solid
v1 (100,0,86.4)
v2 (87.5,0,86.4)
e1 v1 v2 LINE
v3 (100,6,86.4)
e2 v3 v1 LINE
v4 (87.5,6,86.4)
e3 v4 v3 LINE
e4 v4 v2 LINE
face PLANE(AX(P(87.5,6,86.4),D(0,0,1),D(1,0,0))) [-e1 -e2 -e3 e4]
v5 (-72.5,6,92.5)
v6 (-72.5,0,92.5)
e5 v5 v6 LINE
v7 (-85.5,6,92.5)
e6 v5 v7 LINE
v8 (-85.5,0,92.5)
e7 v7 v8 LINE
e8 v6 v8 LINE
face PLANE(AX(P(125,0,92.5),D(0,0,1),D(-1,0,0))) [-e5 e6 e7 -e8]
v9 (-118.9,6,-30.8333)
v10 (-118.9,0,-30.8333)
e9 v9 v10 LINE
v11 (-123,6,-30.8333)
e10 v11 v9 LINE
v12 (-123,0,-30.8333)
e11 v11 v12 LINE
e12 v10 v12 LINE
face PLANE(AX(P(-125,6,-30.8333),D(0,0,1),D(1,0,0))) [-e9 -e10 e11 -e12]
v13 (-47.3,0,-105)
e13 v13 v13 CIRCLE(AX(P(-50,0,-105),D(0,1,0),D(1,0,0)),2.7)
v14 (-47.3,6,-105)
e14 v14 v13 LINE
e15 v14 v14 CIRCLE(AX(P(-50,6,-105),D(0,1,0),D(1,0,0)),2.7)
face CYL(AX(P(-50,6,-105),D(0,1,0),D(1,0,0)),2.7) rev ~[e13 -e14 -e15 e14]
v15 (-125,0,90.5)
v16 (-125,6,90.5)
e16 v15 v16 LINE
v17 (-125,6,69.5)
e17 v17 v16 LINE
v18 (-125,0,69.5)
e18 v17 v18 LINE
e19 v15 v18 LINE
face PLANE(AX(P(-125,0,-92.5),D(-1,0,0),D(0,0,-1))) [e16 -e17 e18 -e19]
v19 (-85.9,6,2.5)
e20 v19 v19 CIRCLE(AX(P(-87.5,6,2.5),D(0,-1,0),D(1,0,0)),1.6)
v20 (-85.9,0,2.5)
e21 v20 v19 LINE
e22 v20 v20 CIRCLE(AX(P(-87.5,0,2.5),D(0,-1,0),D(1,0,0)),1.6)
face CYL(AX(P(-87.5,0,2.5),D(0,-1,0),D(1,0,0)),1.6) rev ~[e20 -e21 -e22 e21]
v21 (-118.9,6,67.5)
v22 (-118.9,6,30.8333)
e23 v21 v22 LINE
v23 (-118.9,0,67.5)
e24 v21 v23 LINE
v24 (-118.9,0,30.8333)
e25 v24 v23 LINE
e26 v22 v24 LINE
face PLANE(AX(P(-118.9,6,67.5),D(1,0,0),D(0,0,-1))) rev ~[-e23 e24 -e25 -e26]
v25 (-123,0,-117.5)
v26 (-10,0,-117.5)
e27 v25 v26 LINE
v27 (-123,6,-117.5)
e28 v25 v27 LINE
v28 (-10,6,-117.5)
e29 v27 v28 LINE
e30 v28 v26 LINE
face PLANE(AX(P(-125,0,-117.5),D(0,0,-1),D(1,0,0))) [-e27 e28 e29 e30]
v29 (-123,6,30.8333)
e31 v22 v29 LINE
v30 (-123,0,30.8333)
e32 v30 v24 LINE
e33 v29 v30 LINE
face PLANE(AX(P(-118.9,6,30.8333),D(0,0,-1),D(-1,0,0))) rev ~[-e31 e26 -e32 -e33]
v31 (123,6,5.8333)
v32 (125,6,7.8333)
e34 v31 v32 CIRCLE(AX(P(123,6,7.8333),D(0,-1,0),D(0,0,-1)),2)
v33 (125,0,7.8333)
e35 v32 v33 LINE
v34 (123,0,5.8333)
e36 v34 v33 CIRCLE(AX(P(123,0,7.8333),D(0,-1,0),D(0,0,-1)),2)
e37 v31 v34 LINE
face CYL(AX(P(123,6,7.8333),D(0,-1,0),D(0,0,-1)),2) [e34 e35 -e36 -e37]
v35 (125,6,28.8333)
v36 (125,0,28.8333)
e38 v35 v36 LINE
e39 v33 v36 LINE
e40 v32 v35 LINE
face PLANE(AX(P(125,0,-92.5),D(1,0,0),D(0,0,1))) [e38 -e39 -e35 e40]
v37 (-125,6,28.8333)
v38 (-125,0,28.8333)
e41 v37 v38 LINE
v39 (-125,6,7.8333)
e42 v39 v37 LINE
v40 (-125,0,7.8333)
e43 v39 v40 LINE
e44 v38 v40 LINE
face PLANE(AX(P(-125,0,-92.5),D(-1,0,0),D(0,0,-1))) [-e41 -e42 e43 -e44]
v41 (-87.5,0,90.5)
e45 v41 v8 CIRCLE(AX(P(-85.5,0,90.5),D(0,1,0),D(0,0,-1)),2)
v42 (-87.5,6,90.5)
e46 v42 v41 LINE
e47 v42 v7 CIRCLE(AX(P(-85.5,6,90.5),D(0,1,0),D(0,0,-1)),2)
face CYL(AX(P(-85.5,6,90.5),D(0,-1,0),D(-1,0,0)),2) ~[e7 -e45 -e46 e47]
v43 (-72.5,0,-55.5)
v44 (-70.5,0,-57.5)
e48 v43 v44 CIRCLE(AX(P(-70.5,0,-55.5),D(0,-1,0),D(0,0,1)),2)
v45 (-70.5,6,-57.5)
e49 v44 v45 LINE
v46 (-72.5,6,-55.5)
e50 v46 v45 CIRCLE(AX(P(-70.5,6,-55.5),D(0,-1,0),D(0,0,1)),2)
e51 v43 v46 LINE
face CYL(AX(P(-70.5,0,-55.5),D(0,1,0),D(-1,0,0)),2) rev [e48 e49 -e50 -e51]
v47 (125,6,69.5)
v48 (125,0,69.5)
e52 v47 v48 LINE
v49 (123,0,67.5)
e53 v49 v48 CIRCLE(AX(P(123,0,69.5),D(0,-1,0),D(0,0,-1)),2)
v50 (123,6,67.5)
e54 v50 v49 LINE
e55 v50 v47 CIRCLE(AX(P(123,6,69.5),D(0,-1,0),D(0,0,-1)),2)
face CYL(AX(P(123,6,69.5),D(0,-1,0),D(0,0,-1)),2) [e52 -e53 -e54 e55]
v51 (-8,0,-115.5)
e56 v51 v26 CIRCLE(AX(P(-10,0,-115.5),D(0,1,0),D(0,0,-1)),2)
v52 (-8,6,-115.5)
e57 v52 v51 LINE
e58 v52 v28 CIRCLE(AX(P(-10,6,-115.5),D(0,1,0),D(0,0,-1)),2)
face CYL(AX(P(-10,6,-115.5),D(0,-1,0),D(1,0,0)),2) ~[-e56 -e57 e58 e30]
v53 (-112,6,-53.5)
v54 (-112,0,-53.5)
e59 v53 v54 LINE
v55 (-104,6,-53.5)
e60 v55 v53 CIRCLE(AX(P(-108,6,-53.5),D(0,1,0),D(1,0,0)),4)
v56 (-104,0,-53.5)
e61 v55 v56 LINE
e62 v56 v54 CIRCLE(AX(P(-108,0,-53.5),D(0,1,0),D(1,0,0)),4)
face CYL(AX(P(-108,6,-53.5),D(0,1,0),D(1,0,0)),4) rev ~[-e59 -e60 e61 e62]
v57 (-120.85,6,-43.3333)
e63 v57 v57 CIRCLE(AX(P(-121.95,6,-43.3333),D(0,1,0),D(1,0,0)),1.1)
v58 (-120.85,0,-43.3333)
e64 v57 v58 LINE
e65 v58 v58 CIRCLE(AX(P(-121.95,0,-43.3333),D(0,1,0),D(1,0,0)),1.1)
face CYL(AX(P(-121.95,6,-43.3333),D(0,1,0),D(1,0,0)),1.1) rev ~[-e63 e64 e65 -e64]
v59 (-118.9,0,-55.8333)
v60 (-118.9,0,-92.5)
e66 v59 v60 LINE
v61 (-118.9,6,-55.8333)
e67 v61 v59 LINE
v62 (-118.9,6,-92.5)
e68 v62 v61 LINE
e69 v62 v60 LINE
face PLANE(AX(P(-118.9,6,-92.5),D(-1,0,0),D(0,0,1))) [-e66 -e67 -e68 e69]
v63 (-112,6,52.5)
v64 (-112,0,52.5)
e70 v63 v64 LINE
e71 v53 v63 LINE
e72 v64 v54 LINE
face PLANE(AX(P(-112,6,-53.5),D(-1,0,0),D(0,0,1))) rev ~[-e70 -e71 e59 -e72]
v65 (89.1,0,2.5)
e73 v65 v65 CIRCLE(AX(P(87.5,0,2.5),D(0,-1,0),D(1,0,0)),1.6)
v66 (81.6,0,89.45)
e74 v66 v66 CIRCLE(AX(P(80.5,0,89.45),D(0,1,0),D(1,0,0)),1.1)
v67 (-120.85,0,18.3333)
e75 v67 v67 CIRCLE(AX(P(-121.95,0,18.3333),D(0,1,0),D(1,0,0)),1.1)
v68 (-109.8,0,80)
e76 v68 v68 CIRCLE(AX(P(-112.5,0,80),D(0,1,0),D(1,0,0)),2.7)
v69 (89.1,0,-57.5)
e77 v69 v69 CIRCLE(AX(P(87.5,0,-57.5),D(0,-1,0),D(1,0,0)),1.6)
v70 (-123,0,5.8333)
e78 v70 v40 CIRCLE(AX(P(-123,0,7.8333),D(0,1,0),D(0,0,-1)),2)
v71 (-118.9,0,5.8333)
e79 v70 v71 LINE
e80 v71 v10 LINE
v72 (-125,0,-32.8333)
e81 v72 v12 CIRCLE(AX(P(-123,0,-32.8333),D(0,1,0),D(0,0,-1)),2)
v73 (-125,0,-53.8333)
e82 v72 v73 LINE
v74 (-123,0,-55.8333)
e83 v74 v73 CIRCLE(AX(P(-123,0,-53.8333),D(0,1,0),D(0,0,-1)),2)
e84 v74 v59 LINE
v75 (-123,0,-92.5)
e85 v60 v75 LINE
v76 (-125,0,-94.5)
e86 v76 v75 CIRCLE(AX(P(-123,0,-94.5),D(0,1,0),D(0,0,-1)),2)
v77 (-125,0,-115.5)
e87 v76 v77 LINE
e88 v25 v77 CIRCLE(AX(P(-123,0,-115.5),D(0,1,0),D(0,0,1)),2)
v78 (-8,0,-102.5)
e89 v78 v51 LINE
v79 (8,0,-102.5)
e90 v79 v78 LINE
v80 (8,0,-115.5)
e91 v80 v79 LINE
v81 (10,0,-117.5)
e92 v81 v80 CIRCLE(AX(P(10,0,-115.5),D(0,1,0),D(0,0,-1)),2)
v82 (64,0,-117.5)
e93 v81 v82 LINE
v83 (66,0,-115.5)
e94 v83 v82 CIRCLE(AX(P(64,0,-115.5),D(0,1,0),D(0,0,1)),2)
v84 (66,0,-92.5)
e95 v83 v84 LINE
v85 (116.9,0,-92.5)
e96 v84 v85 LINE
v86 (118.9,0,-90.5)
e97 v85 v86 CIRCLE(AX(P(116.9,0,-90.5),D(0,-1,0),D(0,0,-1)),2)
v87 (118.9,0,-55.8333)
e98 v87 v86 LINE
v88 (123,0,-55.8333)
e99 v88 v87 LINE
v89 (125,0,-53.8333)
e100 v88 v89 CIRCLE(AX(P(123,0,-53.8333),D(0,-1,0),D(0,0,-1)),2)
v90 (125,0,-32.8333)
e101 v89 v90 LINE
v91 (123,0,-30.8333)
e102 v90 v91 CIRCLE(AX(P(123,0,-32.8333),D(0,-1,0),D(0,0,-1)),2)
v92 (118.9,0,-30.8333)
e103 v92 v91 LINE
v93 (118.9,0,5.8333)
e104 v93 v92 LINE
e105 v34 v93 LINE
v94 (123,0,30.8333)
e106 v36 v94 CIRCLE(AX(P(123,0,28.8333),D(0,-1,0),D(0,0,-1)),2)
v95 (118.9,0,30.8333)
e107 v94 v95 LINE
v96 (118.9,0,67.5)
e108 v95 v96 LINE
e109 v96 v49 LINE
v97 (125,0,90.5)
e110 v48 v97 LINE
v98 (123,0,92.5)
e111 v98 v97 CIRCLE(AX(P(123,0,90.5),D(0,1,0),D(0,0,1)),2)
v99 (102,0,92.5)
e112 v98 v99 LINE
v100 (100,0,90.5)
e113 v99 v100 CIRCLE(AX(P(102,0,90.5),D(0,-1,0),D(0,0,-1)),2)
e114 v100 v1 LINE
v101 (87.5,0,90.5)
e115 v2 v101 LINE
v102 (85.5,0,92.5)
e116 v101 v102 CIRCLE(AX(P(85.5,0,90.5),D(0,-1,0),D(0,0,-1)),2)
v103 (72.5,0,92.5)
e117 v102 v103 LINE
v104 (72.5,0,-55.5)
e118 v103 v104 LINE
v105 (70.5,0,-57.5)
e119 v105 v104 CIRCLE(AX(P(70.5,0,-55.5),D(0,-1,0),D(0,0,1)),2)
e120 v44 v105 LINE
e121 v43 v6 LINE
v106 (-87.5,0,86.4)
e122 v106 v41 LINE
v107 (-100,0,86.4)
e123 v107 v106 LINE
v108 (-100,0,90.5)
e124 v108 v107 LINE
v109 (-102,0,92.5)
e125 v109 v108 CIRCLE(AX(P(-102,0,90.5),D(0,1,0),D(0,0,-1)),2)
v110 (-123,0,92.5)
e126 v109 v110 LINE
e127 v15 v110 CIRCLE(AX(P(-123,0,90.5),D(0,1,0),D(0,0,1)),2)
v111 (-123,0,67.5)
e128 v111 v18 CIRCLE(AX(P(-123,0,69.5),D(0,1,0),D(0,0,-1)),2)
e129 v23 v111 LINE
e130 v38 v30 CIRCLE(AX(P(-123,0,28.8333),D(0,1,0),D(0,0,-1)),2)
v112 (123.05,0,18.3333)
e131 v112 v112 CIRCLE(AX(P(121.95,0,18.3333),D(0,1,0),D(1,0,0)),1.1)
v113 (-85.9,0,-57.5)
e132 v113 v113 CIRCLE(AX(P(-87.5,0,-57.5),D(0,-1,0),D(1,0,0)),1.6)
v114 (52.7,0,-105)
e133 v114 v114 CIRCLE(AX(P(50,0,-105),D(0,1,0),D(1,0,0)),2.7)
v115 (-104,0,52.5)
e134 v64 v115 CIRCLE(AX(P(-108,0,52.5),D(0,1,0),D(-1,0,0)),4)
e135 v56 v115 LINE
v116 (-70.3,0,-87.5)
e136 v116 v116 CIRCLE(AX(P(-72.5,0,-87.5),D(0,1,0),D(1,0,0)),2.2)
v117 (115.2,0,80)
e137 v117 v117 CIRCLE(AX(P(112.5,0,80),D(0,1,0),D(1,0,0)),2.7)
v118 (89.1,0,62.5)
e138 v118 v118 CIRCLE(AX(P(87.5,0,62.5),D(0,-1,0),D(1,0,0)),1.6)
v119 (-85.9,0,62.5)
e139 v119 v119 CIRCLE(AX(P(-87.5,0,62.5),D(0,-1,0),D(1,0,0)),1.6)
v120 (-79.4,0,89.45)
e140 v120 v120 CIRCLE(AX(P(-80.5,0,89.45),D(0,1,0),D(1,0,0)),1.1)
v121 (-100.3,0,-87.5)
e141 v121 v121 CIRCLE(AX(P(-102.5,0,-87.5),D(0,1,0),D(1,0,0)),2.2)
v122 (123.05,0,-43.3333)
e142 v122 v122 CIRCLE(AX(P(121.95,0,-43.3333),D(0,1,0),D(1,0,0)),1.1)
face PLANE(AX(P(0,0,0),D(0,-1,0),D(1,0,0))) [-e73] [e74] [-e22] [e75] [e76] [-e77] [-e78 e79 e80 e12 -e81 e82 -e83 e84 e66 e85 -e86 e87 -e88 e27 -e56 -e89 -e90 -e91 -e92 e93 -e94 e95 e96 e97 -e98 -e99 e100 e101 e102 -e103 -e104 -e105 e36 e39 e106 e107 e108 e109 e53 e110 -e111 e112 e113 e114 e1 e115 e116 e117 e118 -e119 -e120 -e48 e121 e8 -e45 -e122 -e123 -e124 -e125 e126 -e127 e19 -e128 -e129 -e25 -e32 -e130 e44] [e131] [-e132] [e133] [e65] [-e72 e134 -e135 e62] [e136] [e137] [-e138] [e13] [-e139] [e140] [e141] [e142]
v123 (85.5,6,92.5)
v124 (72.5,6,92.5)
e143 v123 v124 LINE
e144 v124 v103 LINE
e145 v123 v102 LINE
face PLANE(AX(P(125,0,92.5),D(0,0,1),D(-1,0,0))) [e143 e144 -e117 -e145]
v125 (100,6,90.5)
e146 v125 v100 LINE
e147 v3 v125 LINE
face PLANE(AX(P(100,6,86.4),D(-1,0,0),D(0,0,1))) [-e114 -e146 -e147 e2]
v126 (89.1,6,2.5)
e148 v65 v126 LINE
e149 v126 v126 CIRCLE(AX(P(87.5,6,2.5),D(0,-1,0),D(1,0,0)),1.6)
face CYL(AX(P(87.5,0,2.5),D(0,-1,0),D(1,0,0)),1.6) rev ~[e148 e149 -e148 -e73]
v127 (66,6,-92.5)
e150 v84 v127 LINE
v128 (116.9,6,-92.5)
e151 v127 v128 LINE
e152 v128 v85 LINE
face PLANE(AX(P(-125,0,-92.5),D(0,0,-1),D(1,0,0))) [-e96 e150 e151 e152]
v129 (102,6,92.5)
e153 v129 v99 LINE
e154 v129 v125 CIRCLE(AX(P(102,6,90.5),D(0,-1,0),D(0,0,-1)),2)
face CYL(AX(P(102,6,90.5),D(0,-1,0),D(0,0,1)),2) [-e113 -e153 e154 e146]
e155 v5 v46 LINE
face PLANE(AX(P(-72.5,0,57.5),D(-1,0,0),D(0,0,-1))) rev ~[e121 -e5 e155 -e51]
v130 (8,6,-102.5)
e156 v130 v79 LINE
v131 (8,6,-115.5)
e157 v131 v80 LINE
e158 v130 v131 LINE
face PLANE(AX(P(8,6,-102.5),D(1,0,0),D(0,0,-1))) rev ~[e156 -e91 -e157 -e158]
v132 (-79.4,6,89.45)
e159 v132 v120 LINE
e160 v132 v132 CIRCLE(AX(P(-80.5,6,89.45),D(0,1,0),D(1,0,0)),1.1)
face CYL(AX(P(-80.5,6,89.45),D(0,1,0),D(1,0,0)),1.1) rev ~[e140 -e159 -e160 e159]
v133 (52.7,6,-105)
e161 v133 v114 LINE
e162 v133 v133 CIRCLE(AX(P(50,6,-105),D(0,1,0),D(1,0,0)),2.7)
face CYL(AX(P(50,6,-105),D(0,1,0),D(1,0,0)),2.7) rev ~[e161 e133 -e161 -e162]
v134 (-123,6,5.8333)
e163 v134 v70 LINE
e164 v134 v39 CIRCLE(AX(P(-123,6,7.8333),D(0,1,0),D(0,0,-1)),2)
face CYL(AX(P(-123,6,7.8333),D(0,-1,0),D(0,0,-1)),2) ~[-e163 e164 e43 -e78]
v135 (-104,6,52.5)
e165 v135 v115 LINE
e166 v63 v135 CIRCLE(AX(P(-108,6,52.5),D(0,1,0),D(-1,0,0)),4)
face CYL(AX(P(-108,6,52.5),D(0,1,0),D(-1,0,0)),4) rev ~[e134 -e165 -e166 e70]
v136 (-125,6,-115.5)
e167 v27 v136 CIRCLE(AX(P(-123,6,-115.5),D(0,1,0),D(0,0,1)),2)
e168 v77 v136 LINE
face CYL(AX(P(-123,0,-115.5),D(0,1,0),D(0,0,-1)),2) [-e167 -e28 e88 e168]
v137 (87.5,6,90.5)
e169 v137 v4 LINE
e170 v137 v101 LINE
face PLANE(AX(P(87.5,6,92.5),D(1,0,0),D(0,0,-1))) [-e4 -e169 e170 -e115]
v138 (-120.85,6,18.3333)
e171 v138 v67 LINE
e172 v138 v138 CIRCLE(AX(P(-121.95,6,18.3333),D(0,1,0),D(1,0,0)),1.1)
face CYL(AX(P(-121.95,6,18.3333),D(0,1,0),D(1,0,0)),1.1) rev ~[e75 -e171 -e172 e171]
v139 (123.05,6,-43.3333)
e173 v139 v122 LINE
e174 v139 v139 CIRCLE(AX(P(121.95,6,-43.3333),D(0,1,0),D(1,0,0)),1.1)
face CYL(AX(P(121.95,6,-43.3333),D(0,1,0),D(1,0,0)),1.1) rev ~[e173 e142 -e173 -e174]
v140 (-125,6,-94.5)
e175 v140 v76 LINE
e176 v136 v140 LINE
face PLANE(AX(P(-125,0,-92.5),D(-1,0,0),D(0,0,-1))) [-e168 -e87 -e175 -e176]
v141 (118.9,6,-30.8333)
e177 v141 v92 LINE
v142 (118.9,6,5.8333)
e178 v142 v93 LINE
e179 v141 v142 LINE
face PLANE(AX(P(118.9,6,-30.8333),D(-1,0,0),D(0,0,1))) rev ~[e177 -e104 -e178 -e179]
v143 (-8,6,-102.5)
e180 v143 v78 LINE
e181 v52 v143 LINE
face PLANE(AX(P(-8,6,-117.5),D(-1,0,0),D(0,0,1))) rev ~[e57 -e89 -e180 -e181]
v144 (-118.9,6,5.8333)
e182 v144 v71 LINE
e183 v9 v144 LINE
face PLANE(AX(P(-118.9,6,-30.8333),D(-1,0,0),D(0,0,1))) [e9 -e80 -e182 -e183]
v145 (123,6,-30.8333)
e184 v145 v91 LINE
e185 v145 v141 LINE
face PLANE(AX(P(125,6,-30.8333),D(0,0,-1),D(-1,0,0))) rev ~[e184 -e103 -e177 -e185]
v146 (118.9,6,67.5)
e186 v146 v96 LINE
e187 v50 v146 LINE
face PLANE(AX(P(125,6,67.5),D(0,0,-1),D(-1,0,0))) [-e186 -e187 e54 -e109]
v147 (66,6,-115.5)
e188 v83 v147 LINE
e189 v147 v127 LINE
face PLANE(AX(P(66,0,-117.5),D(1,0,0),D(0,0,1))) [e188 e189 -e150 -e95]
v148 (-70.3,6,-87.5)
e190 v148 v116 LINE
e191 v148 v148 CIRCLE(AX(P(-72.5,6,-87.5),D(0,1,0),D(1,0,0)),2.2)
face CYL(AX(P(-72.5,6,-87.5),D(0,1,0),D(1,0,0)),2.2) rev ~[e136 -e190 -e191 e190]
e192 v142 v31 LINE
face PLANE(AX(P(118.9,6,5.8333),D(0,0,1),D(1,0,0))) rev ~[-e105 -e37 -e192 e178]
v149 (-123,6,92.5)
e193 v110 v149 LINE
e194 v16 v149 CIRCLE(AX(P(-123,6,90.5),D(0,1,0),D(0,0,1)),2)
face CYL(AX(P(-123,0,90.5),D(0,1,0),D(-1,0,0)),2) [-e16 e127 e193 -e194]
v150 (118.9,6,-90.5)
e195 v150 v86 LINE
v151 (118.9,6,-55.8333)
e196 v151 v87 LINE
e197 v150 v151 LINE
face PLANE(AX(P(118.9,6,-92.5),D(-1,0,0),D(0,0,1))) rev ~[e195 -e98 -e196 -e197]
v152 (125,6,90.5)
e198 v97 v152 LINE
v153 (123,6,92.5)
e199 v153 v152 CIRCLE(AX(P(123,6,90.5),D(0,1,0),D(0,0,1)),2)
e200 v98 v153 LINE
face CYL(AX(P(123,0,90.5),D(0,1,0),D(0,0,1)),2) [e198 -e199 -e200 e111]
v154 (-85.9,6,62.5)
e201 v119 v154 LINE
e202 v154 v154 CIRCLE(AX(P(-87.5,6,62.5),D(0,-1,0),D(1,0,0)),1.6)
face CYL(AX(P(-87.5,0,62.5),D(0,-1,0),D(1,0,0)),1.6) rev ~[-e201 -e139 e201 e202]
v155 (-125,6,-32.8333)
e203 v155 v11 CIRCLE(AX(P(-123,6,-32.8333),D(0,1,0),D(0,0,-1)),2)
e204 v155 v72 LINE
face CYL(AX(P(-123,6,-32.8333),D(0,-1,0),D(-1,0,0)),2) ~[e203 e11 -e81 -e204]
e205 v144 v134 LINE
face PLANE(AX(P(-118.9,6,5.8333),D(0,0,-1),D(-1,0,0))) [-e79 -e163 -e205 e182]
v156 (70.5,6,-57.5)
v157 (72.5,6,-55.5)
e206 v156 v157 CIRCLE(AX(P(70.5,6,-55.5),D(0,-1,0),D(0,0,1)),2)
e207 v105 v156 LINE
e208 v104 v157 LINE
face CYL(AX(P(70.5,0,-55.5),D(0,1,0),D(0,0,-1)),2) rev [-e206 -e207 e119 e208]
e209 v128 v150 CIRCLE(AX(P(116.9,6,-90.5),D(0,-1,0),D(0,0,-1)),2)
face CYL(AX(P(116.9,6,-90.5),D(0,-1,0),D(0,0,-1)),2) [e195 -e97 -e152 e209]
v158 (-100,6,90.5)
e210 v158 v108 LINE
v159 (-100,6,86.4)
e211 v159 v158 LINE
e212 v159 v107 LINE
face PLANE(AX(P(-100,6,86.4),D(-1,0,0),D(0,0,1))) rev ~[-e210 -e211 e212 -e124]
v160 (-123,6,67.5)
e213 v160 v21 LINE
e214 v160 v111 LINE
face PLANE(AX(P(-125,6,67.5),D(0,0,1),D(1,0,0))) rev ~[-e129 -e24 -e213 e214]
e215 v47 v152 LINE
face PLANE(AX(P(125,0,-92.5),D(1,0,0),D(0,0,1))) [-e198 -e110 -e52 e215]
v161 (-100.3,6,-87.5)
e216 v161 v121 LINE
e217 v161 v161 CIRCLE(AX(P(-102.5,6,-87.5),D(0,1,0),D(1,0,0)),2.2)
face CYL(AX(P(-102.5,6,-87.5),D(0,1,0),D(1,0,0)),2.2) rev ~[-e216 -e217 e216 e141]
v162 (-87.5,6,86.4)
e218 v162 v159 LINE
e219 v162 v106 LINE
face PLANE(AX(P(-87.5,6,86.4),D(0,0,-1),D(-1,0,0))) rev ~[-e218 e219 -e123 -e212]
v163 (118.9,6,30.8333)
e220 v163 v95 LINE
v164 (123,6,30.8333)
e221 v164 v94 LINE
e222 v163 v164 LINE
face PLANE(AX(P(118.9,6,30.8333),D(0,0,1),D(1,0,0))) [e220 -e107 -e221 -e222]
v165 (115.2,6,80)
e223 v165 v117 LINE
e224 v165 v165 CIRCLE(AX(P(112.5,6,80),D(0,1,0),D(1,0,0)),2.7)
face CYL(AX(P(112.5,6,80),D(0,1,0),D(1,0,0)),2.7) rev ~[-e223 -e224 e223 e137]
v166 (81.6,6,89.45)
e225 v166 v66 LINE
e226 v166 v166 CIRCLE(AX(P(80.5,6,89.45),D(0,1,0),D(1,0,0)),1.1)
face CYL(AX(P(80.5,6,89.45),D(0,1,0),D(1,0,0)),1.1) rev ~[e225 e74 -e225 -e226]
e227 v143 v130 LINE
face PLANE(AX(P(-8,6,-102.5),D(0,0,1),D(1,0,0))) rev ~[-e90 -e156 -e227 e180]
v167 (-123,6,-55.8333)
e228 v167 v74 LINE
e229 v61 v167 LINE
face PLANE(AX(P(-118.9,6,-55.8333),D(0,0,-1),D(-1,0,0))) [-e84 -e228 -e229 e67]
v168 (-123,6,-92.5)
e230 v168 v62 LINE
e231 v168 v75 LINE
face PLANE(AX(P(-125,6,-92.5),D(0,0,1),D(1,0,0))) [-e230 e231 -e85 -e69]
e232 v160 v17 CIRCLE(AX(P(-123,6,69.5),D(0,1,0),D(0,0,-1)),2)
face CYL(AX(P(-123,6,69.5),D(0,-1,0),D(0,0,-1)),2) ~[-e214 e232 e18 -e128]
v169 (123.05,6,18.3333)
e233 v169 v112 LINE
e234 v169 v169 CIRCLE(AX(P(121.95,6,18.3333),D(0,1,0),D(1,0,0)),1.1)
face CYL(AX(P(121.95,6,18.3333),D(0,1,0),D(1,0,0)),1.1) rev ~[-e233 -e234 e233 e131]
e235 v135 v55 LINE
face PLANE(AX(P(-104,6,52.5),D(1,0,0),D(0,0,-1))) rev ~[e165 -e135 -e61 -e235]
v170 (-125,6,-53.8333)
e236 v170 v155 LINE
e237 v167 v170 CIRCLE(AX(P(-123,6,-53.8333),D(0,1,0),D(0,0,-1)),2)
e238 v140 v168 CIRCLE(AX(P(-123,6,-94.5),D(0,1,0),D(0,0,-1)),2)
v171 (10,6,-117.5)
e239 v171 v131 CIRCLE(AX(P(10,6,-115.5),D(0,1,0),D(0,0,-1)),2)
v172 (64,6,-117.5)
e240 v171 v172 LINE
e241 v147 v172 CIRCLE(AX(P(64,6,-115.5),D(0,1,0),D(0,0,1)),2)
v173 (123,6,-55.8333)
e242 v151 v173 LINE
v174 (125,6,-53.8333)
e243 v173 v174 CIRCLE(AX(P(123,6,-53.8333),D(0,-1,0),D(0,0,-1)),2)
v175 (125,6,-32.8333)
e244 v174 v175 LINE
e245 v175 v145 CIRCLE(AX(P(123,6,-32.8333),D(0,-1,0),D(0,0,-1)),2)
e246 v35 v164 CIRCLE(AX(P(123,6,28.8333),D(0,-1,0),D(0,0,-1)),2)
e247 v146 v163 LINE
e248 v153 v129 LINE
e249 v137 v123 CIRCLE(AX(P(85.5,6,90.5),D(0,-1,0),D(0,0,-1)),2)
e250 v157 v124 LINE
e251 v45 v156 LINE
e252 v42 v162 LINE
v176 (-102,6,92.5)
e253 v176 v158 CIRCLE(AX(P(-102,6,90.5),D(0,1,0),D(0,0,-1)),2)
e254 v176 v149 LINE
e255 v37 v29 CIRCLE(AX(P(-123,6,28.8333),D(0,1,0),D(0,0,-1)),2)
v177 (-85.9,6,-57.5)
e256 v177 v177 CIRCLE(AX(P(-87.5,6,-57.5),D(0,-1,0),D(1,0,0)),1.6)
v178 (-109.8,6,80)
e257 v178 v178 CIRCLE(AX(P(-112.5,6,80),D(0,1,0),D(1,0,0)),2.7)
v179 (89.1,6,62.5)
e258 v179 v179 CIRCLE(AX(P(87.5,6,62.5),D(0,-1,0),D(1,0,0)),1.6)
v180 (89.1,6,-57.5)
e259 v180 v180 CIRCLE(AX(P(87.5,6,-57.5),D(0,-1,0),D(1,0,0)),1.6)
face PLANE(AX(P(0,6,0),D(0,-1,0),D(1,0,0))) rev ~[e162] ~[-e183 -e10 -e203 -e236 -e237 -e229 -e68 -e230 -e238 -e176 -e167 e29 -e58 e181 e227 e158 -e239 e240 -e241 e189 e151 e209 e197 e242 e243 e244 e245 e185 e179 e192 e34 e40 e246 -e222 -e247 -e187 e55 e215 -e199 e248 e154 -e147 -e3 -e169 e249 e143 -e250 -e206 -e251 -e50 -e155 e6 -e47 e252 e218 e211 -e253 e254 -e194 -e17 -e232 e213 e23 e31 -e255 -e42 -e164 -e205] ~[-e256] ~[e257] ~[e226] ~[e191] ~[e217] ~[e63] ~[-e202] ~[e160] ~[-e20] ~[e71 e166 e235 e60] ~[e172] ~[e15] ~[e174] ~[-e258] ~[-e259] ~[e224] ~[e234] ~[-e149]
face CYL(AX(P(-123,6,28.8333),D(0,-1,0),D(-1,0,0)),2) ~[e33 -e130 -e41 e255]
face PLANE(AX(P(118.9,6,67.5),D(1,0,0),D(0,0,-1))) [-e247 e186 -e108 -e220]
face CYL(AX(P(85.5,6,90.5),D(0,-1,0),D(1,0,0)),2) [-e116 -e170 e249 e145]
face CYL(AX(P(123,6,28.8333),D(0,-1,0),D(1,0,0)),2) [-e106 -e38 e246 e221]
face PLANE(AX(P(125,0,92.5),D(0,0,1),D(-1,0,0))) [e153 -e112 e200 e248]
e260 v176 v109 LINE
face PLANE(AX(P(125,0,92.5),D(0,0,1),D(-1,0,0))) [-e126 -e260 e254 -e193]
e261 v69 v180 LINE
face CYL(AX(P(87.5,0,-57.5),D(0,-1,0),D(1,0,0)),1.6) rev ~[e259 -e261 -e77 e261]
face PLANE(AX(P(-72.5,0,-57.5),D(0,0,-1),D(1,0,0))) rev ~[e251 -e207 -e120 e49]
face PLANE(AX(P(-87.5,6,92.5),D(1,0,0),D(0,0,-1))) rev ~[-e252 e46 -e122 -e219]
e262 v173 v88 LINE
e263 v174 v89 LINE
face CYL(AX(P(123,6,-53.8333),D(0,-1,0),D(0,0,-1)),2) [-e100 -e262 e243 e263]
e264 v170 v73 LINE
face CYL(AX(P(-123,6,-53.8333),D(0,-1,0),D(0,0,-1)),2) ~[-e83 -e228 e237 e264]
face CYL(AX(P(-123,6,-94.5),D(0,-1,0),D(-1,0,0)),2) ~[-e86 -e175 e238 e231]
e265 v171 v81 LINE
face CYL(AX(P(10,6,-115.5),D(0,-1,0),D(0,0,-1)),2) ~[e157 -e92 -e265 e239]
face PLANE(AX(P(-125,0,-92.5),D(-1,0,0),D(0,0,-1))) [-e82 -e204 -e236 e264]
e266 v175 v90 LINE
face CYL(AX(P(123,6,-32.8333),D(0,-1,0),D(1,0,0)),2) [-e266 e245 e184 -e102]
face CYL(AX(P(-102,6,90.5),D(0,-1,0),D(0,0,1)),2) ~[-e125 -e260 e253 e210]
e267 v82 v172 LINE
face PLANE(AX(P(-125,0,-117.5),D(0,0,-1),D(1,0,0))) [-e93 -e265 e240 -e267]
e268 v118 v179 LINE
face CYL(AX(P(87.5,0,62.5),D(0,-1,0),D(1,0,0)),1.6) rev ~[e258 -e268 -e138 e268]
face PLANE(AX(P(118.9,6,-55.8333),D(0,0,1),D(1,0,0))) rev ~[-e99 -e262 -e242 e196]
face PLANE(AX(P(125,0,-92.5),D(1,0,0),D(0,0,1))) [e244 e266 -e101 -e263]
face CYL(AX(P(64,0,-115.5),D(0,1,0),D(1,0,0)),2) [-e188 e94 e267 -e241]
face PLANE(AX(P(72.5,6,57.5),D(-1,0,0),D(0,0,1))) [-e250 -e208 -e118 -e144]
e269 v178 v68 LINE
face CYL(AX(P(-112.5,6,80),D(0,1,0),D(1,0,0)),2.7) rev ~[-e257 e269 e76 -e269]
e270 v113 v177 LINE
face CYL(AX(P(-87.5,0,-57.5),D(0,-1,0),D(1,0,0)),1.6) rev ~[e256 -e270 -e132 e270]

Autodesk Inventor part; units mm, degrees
ref_plane "YZ Plane" through (0, 0, 0) normal (1, 0, 0) x (0, 1, 0)
ref_plane "XZ Plane" through (0, 0, 0) normal (0, 1, 0) x (-1, 0, 0)
ref_plane "XY Plane" through (0, 0, 0) normal (0, 0, 1) x (1, 0, 0)
sketch "Sketch1" plane through (0, 0, 0) normal (0, 1, 0) x (-1, 0, 0)
  line L0 (125, -92.5) -> (-125, -92.5)
  line L1 (-125, -92.5) -> (-125, 92.5)
  line L2 (-125, 92.5) -> (125, 92.5)
  line L3 (125, 92.5) -> (125, -92.5)
  line L4 (125, -92.5) -> (-125, 92.5) construction
  line L5 (-125, -92.5) -> (125, 92.5) construction
  line L6 (72.5, -57.5) -> (-72.5, -57.5)
  line L7 (-72.5, -57.5) -> (-72.5, 57.5)
  line L8 (-72.5, 57.5) -> (72.5, 57.5)
  line L9 (72.5, 57.5) -> (72.5, -57.5)
  line L10 (72.5, -57.5) -> (-72.5, 57.5) construction
  line L11 (-72.5, -57.5) -> (72.5, 57.5) construction
  line L12 (-90.9745, -29.5734) -> (-84.0255, -29.5734) construction
  line L13 (-84.0255, -29.5734) -> (-84.0255, 29.5734) construction
  line L14 (-84.0255, 29.5734) -> (-90.9745, 29.5734) construction
  line L15 (-90.9745, 29.5734) -> (-90.9745, -29.5734) construction
  line L16 (-90.9745, -29.5734) -> (-84.0255, 29.5734) construction
  line L17 (-84.0255, -29.5734) -> (-90.9745, 29.5734) construction
  line L18 (81.5853, -29.5734) -> (93.4147, -29.5734) construction
  line L19 (93.4147, -29.5734) -> (93.4147, 29.5734) construction
  line L20 (93.4147, 29.5734) -> (81.5853, 29.5734) construction
  line L21 (81.5853, 29.5734) -> (81.5853, -29.5734) construction
  line L22 (81.5853, -29.5734) -> (93.4147, 29.5734) construction
  line L23 (93.4147, -29.5734) -> (81.5853, 29.5734) construction
  point P0 (0, 0)
  point P1 (-87.5, 0)
  point P2 (87.5, 0)
  dimension "d0" = 175
  dimension "d1" = 87.5
  dimension "d2" = 145
  dimension "d4" = 185
  dimension "d5" = 250
  dimension "d15" = 35
extrude "Extrusion1" add sketch "Sketch1" along normal blind 6
sketch "Sketch2" plane through (0, 6, 0) normal (0, 1, 0) x (1, 0, 0)
  line L0 (72.5, -57.5) -> (-72.5, -57.5) projected
  line L1 (-125, -92.5) -> (125, -92.5) projected
  line L2 (-72.5, -57.5) -> (72.5, -57.5)
  line L3 (72.5, -57.5) -> (72.5, -92.5)
  line L4 (72.5, -92.5) -> (-72.5, -92.5)
  line L5 (-72.5, -92.5) -> (-72.5, -57.5)
  point P0 (0, 0)
extrude "Extrusion2" cut sketch "Sketch2" against normal through all
sketch "Sketch3" plane through (0, 0, 0) normal (0, -1, 0) x (1, 0, 0)
  line L0 (-125, 92.5) -> (-125, -92.5) projected
  line L1 (-125, -92.5) -> (125, -92.5) projected
  line L2 (125, -92.5) -> (125, 92.5) projected
  line L3 (-125, -117.5) -> (66, -117.5)
  line L4 (66, -117.5) -> (66, -92.5)
  line L5 (66, -92.5) -> (-125, -92.5)
  line L6 (-125, -92.5) -> (-125, -117.5)
  line L7 (-125, -117.5) -> (66, -92.5) construction
  line L8 (66, -117.5) -> (-125, -92.5) construction
  point P0 (0, 0)
  point P1 (-29.5, -105)
  dimension "d10" = 59
  dimension "d11" = 25
extrude "Extrusion3" add sketch "Sketch3" against normal blind 6
sketch "Sketch4" plane through (0, 6, 0) normal (0, 1, 0) x (1, 0, 0)
  line L0 (-72.5, -92.5) -> (-72.5, 57.5) projected
  line L1 (-72.5, 57.5) -> (72.5, 57.5) projected
  line L2 (-125, -92.5) -> (-72.5, -92.5) projected
  line L3 (-108, 53.5) -> (-108, -52.5) construction
  line L4 (-112, 53.5) -> (-112, -52.5)
  line L5 (-104, -52.5) -> (-104, 53.5)
  arc A0 (-104, 53.5) -> (-112, 53.5) centre (-108, 53.5) ccw
  arc A1 (-112, -52.5) -> (-104, -52.5) centre (-108, -52.5) ccw
  point P0 (0, 0)
  point P1 (-108, 0.5)
  dimension "d16" = 8
  dimension "d17" = 108
  dimension "d18" = 40
extrude "Extrusion4" cut sketch "Sketch4" against normal through all
sketch "Sketch5" plane through (0, 0, 0) normal (0, -1, 0) x (1, 0, 0)
  line L0 (125, 92.5) -> (-125, 92.5) projected
  line L1 (72.5, -57.5) -> (-72.5, -57.5) projected
  circle A0 centre (-87.5, 62.5) radius 1.6
  circle A1 centre (-87.5, 2.5) radius 1.6
  circle A2 centre (-87.5, -57.5) radius 1.6
  circle A3 centre (87.5, 62.5) radius 1.6
  circle A4 centre (87.5, 2.5) radius 1.6
  circle A5 centre (87.5, -57.5) radius 1.6
  line L2 (87.5, 62.5) -> (-87.5, 62.5) construction
  line L3 (0, -57.5) -> (0, 62.5) construction
  line L4 (-95, -72.5) -> (-80, -72.5) construction
  line L5 (-80, -72.5) -> (-80, 77.5) construction
  line L6 (-80, 77.5) -> (-95, 77.5) construction
  line L7 (-95, 77.5) -> (-95, -72.5) construction
  line L8 (-95, -72.5) -> (-80, 77.5) construction
  line L9 (-80, -72.5) -> (-95, 77.5) construction
  point P0 (-72.5, 92.5)
  point P1 (0, 0)
  dimension "d21" = 60
  dimension "d22" = 60
  dimension "d23" = 175
  dimension "d24" = 3.2
  dimension "d25" = 150
  dimension "d26" = 15
extrude "Extrusion5" cut sketch "Sketch5" against normal through all
sketch "Sketch6" plane through (0, 6, 0) normal (0, 1, 0) x (1, 0, 0)
  circle A0 centre (-87.5, 57.5) radius 1.6 projected
  line L0 (66, 117.5) -> (-125, 117.5) projected
  line L1 (-112.5, 60.5) -> (-62.5, 60.5) construction
  line L2 (-62.5, 60.5) -> (-62.5, 114.5) construction
  line L3 (-62.5, 114.5) -> (-112.5, 114.5) construction
  line L4 (-112.5, 114.5) -> (-112.5, 60.5) construction
  line L5 (-112.5, 60.5) -> (-62.5, 114.5) construction
  line L6 (-62.5, 60.5) -> (-112.5, 114.5) construction
  circle A1 centre (-102.5, 87.5) radius 2.2
  circle A2 centre (-72.5, 87.5) radius 2.2
  circle A3 centre (-50, 105) radius 2.7
  circle A4 centre (50, 105) radius 2.7
  line L7 (125, -92.5) -> (125, 92.5) projected
  line L8 (-125, 117.5) -> (-125, -92.5) projected
  line L9 (-125, -92.5) -> (-72.5, -92.5) projected
  circle A5 centre (-112.5, -80) radius 2.7
  circle A6 centre (112.5, -80) radius 2.7
  point P0 (0, 0)
  point P1 (-87.5, 87.5)
  dimension "d29" = 50
  dimension "d30" = 54
  dimension "d31" = 3
  dimension "d32" = 4.4
  dimension "d33" = 30
  dimension "d34" = 15
  dimension "d42" = 12.5
  dimension "d43" = 50
  dimension "d44" = 50
  dimension "d45" = 5.4
  dimension "d46" = 12.5
  dimension "d47" = 12.5
  dimension "d48" = 12.5
  dimension "d49" = 5.4
  dimension "d71" = 12.5
extrude "Extrusion6" cut sketch "Sketch6" against normal through all contours A1 | A2 | A3 | A4 | A5 | A6
sketch "Sketch7" plane through (0, 6, 0) normal (0, 1, 0) x (1, 0, 0)
  line L0 (66, 117.5) -> (-125, 117.5) projected
  line L1 (-8, 102.5) -> (8, 102.5)
  line L2 (8, 102.5) -> (8, 117.5)
  line L3 (8, 117.5) -> (-8, 117.5)
  line L4 (-8, 117.5) -> (-8, 102.5)
  line L5 (-8, 102.5) -> (8, 117.5) construction
  line L6 (8, 102.5) -> (-8, 117.5) construction
  point P0 (0, 0)
  point P1 (0, 110)
  dimension "d38" = 16
  dimension "d39" = 15
extrude "Extrusion7" cut sketch "Sketch7" against normal through all
sketch "Sketch8" plane through (0, 6, 0) normal (0, 1, 0) x (1, 0, 0)
  line L0 (-125, 117.5) -> (-125, -92.5) projected
  line L1 (72.5, -92.5) -> (125, -92.5) projected
  line L2 (125, -92.5) -> (125, 92.5) projected
  line L3 (125, 92.5) -> (66, 92.5) projected
  line L4 (125, 92.5) -> (118.9, 92.5)
  line L5 (118.9, 92.5) -> (118.9, 55.8333)
  line L6 (118.9, 55.8333) -> (125, 55.8333)
  line L7 (125, 55.8333) -> (125, 92.5)
  line L8 (125, -67.5) -> (118.9, -67.5)
  line L9 (118.9, -67.5) -> (118.9, -30.8333)
  line L10 (118.9, -30.8333) -> (125, -30.8333)
  line L11 (125, -30.8333) -> (125, -67.5)
  line L12 (125, 30.8333) -> (118.9, 30.8333)
  line L13 (118.9, 30.8333) -> (118.9, -5.8333)
  line L14 (118.9, -5.8333) -> (125, -5.8333)
  line L15 (125, -5.8333) -> (125, 30.8333)
  line L16 (-125, 92.5) -> (-118.9, 92.5)
  line L17 (-118.9, 92.5) -> (-118.9, 55.8333)
  line L18 (-118.9, 55.8333) -> (-125, 55.8333)
  line L19 (-125, 55.8333) -> (-125, 92.5)
  line L20 (-125, 30.8333) -> (-118.9, 30.8333)
  line L21 (-118.9, 30.8333) -> (-118.9, -5.8333)
  line L22 (-118.9, -5.8333) -> (-125, -5.8333)
  line L23 (-125, -5.8333) -> (-125, 30.8333)
  line L24 (-125, -67.5) -> (-118.9, -67.5)
  line L25 (-118.9, -67.5) -> (-118.9, -30.8333)
  line L26 (-118.9, -30.8333) -> (-125, -30.8333)
  line L27 (-125, -30.8333) -> (-125, -67.5)
  circle A0 centre (121.95, 43.3333) radius 1.1
  circle A1 centre (121.95, -18.3333) radius 1.1
  circle A2 centre (-121.95, -18.3333) radius 1.1
  circle A3 centre (-121.95, 43.3333) radius 1.1
  line L28 (121.95, 55.8333) -> (121.95, 43.3333) construction
  line L29 (-121.95, 55.8333) -> (-121.95, 43.3333) construction
  point P0 (0, 0)
  dimension "d50" = 25
  dimension "d51" = 6.1
  dimension "d52" = 25
  dimension "d53" = 25
  dimension "d54" = 2.2
  dimension "d55" = 12.5
  dimension "d56" = 12.5
extrude "Extrusion8" cut sketch "Sketch8" against normal through all
sketch "Sketch9" plane through (0, 6, 0) normal (0, 1, 0) x (1, 0, 0)
  circle A0 centre (-121.95, -18.3333) radius 1.1 projected
  line L0 (-118.9, -67.5) -> (-125, -67.5) projected
  line L1 (-125, -92.5) -> (-72.5, -92.5) projected
  line L2 (72.5, -92.5) -> (125, -92.5) projected
  line L3 (-100, -92.5) -> (-87.5, -92.5)
  line L4 (-87.5, -92.5) -> (-87.5, -86.4)
  line L5 (-87.5, -86.4) -> (-100, -86.4)
  line L6 (-100, -86.4) -> (-100, -92.5)
  line L7 (100, -92.5) -> (87.5, -92.5)
  line L8 (87.5, -92.5) -> (87.5, -86.4)
  line L9 (87.5, -86.4) -> (100, -86.4)
  line L10 (100, -86.4) -> (100, -92.5)
  circle A1 centre (-80.5, -89.45) radius 1.1
  circle A2 centre (80.5, -89.45) radius 1.1
  line L11 (-80.5, -89.45) -> (-87.5, -89.45) construction
  line L12 (-125, -67.5) -> (-125, -92.5) projected
  line L13 (-72.5, -92.5) -> (-72.5, 57.5) projected
  line L14 (72.5, 57.5) -> (72.5, -92.5) projected
  line L15 (125, -92.5) -> (125, -67.5) projected
  point P0 (0, 0)
  dimension "d60" = 12.5
  dimension "d66" = 25
  dimension "d68" = 8
  dimension "d69" = 8
  dimension "d70" = 25
extrude "Extrusion9" cut sketch "Sketch9" against normal through all contours L6 L5 L4 L1 | L8 L9 L10 L2 | A1 | A2
fillet "Fillet1" radius 2 9 edges at (125, 3, 92.5) (72.5, 3, -57.5) (-125, 3, 92.5) (-72.5, 3, -57.5) (66, 3, -117.5) (-125, 3, -117.5) (8, 3, -117.5) (-8, 3, -117.5) (118.9, 3, -92.5)
fillet "Fillet2" radius 2 15 edges at (125, 3, -55.8333) (125, 3, -30.8333) (125, 3, 5.8333) (125, 3, 30.8333) (125, 3, 67.5) (-125, 3, 67.5) (-125, 3, 30.8333) (-125, 3, 5.8333) (-125, 3, -30.8333) (-125, 3, -55.8333) (-125, 3, -92.5) (-100, 3, 92.5) (-87.5, 3, 92.5) (87.5, 3, 92.5) (100, 3, 92.5)
equation "\"d1\" = 0.5 * d0"
equation "\"d22\" = d21"
equation "\"d34\" = 0.5 * d33"
equation "\"d44\" = d43"
equation "\"d53\" = d52"
equation "\"d55\" = 0.5 * d52"
equation "\"d56\" = d55"
properties part number "InnerTop"
